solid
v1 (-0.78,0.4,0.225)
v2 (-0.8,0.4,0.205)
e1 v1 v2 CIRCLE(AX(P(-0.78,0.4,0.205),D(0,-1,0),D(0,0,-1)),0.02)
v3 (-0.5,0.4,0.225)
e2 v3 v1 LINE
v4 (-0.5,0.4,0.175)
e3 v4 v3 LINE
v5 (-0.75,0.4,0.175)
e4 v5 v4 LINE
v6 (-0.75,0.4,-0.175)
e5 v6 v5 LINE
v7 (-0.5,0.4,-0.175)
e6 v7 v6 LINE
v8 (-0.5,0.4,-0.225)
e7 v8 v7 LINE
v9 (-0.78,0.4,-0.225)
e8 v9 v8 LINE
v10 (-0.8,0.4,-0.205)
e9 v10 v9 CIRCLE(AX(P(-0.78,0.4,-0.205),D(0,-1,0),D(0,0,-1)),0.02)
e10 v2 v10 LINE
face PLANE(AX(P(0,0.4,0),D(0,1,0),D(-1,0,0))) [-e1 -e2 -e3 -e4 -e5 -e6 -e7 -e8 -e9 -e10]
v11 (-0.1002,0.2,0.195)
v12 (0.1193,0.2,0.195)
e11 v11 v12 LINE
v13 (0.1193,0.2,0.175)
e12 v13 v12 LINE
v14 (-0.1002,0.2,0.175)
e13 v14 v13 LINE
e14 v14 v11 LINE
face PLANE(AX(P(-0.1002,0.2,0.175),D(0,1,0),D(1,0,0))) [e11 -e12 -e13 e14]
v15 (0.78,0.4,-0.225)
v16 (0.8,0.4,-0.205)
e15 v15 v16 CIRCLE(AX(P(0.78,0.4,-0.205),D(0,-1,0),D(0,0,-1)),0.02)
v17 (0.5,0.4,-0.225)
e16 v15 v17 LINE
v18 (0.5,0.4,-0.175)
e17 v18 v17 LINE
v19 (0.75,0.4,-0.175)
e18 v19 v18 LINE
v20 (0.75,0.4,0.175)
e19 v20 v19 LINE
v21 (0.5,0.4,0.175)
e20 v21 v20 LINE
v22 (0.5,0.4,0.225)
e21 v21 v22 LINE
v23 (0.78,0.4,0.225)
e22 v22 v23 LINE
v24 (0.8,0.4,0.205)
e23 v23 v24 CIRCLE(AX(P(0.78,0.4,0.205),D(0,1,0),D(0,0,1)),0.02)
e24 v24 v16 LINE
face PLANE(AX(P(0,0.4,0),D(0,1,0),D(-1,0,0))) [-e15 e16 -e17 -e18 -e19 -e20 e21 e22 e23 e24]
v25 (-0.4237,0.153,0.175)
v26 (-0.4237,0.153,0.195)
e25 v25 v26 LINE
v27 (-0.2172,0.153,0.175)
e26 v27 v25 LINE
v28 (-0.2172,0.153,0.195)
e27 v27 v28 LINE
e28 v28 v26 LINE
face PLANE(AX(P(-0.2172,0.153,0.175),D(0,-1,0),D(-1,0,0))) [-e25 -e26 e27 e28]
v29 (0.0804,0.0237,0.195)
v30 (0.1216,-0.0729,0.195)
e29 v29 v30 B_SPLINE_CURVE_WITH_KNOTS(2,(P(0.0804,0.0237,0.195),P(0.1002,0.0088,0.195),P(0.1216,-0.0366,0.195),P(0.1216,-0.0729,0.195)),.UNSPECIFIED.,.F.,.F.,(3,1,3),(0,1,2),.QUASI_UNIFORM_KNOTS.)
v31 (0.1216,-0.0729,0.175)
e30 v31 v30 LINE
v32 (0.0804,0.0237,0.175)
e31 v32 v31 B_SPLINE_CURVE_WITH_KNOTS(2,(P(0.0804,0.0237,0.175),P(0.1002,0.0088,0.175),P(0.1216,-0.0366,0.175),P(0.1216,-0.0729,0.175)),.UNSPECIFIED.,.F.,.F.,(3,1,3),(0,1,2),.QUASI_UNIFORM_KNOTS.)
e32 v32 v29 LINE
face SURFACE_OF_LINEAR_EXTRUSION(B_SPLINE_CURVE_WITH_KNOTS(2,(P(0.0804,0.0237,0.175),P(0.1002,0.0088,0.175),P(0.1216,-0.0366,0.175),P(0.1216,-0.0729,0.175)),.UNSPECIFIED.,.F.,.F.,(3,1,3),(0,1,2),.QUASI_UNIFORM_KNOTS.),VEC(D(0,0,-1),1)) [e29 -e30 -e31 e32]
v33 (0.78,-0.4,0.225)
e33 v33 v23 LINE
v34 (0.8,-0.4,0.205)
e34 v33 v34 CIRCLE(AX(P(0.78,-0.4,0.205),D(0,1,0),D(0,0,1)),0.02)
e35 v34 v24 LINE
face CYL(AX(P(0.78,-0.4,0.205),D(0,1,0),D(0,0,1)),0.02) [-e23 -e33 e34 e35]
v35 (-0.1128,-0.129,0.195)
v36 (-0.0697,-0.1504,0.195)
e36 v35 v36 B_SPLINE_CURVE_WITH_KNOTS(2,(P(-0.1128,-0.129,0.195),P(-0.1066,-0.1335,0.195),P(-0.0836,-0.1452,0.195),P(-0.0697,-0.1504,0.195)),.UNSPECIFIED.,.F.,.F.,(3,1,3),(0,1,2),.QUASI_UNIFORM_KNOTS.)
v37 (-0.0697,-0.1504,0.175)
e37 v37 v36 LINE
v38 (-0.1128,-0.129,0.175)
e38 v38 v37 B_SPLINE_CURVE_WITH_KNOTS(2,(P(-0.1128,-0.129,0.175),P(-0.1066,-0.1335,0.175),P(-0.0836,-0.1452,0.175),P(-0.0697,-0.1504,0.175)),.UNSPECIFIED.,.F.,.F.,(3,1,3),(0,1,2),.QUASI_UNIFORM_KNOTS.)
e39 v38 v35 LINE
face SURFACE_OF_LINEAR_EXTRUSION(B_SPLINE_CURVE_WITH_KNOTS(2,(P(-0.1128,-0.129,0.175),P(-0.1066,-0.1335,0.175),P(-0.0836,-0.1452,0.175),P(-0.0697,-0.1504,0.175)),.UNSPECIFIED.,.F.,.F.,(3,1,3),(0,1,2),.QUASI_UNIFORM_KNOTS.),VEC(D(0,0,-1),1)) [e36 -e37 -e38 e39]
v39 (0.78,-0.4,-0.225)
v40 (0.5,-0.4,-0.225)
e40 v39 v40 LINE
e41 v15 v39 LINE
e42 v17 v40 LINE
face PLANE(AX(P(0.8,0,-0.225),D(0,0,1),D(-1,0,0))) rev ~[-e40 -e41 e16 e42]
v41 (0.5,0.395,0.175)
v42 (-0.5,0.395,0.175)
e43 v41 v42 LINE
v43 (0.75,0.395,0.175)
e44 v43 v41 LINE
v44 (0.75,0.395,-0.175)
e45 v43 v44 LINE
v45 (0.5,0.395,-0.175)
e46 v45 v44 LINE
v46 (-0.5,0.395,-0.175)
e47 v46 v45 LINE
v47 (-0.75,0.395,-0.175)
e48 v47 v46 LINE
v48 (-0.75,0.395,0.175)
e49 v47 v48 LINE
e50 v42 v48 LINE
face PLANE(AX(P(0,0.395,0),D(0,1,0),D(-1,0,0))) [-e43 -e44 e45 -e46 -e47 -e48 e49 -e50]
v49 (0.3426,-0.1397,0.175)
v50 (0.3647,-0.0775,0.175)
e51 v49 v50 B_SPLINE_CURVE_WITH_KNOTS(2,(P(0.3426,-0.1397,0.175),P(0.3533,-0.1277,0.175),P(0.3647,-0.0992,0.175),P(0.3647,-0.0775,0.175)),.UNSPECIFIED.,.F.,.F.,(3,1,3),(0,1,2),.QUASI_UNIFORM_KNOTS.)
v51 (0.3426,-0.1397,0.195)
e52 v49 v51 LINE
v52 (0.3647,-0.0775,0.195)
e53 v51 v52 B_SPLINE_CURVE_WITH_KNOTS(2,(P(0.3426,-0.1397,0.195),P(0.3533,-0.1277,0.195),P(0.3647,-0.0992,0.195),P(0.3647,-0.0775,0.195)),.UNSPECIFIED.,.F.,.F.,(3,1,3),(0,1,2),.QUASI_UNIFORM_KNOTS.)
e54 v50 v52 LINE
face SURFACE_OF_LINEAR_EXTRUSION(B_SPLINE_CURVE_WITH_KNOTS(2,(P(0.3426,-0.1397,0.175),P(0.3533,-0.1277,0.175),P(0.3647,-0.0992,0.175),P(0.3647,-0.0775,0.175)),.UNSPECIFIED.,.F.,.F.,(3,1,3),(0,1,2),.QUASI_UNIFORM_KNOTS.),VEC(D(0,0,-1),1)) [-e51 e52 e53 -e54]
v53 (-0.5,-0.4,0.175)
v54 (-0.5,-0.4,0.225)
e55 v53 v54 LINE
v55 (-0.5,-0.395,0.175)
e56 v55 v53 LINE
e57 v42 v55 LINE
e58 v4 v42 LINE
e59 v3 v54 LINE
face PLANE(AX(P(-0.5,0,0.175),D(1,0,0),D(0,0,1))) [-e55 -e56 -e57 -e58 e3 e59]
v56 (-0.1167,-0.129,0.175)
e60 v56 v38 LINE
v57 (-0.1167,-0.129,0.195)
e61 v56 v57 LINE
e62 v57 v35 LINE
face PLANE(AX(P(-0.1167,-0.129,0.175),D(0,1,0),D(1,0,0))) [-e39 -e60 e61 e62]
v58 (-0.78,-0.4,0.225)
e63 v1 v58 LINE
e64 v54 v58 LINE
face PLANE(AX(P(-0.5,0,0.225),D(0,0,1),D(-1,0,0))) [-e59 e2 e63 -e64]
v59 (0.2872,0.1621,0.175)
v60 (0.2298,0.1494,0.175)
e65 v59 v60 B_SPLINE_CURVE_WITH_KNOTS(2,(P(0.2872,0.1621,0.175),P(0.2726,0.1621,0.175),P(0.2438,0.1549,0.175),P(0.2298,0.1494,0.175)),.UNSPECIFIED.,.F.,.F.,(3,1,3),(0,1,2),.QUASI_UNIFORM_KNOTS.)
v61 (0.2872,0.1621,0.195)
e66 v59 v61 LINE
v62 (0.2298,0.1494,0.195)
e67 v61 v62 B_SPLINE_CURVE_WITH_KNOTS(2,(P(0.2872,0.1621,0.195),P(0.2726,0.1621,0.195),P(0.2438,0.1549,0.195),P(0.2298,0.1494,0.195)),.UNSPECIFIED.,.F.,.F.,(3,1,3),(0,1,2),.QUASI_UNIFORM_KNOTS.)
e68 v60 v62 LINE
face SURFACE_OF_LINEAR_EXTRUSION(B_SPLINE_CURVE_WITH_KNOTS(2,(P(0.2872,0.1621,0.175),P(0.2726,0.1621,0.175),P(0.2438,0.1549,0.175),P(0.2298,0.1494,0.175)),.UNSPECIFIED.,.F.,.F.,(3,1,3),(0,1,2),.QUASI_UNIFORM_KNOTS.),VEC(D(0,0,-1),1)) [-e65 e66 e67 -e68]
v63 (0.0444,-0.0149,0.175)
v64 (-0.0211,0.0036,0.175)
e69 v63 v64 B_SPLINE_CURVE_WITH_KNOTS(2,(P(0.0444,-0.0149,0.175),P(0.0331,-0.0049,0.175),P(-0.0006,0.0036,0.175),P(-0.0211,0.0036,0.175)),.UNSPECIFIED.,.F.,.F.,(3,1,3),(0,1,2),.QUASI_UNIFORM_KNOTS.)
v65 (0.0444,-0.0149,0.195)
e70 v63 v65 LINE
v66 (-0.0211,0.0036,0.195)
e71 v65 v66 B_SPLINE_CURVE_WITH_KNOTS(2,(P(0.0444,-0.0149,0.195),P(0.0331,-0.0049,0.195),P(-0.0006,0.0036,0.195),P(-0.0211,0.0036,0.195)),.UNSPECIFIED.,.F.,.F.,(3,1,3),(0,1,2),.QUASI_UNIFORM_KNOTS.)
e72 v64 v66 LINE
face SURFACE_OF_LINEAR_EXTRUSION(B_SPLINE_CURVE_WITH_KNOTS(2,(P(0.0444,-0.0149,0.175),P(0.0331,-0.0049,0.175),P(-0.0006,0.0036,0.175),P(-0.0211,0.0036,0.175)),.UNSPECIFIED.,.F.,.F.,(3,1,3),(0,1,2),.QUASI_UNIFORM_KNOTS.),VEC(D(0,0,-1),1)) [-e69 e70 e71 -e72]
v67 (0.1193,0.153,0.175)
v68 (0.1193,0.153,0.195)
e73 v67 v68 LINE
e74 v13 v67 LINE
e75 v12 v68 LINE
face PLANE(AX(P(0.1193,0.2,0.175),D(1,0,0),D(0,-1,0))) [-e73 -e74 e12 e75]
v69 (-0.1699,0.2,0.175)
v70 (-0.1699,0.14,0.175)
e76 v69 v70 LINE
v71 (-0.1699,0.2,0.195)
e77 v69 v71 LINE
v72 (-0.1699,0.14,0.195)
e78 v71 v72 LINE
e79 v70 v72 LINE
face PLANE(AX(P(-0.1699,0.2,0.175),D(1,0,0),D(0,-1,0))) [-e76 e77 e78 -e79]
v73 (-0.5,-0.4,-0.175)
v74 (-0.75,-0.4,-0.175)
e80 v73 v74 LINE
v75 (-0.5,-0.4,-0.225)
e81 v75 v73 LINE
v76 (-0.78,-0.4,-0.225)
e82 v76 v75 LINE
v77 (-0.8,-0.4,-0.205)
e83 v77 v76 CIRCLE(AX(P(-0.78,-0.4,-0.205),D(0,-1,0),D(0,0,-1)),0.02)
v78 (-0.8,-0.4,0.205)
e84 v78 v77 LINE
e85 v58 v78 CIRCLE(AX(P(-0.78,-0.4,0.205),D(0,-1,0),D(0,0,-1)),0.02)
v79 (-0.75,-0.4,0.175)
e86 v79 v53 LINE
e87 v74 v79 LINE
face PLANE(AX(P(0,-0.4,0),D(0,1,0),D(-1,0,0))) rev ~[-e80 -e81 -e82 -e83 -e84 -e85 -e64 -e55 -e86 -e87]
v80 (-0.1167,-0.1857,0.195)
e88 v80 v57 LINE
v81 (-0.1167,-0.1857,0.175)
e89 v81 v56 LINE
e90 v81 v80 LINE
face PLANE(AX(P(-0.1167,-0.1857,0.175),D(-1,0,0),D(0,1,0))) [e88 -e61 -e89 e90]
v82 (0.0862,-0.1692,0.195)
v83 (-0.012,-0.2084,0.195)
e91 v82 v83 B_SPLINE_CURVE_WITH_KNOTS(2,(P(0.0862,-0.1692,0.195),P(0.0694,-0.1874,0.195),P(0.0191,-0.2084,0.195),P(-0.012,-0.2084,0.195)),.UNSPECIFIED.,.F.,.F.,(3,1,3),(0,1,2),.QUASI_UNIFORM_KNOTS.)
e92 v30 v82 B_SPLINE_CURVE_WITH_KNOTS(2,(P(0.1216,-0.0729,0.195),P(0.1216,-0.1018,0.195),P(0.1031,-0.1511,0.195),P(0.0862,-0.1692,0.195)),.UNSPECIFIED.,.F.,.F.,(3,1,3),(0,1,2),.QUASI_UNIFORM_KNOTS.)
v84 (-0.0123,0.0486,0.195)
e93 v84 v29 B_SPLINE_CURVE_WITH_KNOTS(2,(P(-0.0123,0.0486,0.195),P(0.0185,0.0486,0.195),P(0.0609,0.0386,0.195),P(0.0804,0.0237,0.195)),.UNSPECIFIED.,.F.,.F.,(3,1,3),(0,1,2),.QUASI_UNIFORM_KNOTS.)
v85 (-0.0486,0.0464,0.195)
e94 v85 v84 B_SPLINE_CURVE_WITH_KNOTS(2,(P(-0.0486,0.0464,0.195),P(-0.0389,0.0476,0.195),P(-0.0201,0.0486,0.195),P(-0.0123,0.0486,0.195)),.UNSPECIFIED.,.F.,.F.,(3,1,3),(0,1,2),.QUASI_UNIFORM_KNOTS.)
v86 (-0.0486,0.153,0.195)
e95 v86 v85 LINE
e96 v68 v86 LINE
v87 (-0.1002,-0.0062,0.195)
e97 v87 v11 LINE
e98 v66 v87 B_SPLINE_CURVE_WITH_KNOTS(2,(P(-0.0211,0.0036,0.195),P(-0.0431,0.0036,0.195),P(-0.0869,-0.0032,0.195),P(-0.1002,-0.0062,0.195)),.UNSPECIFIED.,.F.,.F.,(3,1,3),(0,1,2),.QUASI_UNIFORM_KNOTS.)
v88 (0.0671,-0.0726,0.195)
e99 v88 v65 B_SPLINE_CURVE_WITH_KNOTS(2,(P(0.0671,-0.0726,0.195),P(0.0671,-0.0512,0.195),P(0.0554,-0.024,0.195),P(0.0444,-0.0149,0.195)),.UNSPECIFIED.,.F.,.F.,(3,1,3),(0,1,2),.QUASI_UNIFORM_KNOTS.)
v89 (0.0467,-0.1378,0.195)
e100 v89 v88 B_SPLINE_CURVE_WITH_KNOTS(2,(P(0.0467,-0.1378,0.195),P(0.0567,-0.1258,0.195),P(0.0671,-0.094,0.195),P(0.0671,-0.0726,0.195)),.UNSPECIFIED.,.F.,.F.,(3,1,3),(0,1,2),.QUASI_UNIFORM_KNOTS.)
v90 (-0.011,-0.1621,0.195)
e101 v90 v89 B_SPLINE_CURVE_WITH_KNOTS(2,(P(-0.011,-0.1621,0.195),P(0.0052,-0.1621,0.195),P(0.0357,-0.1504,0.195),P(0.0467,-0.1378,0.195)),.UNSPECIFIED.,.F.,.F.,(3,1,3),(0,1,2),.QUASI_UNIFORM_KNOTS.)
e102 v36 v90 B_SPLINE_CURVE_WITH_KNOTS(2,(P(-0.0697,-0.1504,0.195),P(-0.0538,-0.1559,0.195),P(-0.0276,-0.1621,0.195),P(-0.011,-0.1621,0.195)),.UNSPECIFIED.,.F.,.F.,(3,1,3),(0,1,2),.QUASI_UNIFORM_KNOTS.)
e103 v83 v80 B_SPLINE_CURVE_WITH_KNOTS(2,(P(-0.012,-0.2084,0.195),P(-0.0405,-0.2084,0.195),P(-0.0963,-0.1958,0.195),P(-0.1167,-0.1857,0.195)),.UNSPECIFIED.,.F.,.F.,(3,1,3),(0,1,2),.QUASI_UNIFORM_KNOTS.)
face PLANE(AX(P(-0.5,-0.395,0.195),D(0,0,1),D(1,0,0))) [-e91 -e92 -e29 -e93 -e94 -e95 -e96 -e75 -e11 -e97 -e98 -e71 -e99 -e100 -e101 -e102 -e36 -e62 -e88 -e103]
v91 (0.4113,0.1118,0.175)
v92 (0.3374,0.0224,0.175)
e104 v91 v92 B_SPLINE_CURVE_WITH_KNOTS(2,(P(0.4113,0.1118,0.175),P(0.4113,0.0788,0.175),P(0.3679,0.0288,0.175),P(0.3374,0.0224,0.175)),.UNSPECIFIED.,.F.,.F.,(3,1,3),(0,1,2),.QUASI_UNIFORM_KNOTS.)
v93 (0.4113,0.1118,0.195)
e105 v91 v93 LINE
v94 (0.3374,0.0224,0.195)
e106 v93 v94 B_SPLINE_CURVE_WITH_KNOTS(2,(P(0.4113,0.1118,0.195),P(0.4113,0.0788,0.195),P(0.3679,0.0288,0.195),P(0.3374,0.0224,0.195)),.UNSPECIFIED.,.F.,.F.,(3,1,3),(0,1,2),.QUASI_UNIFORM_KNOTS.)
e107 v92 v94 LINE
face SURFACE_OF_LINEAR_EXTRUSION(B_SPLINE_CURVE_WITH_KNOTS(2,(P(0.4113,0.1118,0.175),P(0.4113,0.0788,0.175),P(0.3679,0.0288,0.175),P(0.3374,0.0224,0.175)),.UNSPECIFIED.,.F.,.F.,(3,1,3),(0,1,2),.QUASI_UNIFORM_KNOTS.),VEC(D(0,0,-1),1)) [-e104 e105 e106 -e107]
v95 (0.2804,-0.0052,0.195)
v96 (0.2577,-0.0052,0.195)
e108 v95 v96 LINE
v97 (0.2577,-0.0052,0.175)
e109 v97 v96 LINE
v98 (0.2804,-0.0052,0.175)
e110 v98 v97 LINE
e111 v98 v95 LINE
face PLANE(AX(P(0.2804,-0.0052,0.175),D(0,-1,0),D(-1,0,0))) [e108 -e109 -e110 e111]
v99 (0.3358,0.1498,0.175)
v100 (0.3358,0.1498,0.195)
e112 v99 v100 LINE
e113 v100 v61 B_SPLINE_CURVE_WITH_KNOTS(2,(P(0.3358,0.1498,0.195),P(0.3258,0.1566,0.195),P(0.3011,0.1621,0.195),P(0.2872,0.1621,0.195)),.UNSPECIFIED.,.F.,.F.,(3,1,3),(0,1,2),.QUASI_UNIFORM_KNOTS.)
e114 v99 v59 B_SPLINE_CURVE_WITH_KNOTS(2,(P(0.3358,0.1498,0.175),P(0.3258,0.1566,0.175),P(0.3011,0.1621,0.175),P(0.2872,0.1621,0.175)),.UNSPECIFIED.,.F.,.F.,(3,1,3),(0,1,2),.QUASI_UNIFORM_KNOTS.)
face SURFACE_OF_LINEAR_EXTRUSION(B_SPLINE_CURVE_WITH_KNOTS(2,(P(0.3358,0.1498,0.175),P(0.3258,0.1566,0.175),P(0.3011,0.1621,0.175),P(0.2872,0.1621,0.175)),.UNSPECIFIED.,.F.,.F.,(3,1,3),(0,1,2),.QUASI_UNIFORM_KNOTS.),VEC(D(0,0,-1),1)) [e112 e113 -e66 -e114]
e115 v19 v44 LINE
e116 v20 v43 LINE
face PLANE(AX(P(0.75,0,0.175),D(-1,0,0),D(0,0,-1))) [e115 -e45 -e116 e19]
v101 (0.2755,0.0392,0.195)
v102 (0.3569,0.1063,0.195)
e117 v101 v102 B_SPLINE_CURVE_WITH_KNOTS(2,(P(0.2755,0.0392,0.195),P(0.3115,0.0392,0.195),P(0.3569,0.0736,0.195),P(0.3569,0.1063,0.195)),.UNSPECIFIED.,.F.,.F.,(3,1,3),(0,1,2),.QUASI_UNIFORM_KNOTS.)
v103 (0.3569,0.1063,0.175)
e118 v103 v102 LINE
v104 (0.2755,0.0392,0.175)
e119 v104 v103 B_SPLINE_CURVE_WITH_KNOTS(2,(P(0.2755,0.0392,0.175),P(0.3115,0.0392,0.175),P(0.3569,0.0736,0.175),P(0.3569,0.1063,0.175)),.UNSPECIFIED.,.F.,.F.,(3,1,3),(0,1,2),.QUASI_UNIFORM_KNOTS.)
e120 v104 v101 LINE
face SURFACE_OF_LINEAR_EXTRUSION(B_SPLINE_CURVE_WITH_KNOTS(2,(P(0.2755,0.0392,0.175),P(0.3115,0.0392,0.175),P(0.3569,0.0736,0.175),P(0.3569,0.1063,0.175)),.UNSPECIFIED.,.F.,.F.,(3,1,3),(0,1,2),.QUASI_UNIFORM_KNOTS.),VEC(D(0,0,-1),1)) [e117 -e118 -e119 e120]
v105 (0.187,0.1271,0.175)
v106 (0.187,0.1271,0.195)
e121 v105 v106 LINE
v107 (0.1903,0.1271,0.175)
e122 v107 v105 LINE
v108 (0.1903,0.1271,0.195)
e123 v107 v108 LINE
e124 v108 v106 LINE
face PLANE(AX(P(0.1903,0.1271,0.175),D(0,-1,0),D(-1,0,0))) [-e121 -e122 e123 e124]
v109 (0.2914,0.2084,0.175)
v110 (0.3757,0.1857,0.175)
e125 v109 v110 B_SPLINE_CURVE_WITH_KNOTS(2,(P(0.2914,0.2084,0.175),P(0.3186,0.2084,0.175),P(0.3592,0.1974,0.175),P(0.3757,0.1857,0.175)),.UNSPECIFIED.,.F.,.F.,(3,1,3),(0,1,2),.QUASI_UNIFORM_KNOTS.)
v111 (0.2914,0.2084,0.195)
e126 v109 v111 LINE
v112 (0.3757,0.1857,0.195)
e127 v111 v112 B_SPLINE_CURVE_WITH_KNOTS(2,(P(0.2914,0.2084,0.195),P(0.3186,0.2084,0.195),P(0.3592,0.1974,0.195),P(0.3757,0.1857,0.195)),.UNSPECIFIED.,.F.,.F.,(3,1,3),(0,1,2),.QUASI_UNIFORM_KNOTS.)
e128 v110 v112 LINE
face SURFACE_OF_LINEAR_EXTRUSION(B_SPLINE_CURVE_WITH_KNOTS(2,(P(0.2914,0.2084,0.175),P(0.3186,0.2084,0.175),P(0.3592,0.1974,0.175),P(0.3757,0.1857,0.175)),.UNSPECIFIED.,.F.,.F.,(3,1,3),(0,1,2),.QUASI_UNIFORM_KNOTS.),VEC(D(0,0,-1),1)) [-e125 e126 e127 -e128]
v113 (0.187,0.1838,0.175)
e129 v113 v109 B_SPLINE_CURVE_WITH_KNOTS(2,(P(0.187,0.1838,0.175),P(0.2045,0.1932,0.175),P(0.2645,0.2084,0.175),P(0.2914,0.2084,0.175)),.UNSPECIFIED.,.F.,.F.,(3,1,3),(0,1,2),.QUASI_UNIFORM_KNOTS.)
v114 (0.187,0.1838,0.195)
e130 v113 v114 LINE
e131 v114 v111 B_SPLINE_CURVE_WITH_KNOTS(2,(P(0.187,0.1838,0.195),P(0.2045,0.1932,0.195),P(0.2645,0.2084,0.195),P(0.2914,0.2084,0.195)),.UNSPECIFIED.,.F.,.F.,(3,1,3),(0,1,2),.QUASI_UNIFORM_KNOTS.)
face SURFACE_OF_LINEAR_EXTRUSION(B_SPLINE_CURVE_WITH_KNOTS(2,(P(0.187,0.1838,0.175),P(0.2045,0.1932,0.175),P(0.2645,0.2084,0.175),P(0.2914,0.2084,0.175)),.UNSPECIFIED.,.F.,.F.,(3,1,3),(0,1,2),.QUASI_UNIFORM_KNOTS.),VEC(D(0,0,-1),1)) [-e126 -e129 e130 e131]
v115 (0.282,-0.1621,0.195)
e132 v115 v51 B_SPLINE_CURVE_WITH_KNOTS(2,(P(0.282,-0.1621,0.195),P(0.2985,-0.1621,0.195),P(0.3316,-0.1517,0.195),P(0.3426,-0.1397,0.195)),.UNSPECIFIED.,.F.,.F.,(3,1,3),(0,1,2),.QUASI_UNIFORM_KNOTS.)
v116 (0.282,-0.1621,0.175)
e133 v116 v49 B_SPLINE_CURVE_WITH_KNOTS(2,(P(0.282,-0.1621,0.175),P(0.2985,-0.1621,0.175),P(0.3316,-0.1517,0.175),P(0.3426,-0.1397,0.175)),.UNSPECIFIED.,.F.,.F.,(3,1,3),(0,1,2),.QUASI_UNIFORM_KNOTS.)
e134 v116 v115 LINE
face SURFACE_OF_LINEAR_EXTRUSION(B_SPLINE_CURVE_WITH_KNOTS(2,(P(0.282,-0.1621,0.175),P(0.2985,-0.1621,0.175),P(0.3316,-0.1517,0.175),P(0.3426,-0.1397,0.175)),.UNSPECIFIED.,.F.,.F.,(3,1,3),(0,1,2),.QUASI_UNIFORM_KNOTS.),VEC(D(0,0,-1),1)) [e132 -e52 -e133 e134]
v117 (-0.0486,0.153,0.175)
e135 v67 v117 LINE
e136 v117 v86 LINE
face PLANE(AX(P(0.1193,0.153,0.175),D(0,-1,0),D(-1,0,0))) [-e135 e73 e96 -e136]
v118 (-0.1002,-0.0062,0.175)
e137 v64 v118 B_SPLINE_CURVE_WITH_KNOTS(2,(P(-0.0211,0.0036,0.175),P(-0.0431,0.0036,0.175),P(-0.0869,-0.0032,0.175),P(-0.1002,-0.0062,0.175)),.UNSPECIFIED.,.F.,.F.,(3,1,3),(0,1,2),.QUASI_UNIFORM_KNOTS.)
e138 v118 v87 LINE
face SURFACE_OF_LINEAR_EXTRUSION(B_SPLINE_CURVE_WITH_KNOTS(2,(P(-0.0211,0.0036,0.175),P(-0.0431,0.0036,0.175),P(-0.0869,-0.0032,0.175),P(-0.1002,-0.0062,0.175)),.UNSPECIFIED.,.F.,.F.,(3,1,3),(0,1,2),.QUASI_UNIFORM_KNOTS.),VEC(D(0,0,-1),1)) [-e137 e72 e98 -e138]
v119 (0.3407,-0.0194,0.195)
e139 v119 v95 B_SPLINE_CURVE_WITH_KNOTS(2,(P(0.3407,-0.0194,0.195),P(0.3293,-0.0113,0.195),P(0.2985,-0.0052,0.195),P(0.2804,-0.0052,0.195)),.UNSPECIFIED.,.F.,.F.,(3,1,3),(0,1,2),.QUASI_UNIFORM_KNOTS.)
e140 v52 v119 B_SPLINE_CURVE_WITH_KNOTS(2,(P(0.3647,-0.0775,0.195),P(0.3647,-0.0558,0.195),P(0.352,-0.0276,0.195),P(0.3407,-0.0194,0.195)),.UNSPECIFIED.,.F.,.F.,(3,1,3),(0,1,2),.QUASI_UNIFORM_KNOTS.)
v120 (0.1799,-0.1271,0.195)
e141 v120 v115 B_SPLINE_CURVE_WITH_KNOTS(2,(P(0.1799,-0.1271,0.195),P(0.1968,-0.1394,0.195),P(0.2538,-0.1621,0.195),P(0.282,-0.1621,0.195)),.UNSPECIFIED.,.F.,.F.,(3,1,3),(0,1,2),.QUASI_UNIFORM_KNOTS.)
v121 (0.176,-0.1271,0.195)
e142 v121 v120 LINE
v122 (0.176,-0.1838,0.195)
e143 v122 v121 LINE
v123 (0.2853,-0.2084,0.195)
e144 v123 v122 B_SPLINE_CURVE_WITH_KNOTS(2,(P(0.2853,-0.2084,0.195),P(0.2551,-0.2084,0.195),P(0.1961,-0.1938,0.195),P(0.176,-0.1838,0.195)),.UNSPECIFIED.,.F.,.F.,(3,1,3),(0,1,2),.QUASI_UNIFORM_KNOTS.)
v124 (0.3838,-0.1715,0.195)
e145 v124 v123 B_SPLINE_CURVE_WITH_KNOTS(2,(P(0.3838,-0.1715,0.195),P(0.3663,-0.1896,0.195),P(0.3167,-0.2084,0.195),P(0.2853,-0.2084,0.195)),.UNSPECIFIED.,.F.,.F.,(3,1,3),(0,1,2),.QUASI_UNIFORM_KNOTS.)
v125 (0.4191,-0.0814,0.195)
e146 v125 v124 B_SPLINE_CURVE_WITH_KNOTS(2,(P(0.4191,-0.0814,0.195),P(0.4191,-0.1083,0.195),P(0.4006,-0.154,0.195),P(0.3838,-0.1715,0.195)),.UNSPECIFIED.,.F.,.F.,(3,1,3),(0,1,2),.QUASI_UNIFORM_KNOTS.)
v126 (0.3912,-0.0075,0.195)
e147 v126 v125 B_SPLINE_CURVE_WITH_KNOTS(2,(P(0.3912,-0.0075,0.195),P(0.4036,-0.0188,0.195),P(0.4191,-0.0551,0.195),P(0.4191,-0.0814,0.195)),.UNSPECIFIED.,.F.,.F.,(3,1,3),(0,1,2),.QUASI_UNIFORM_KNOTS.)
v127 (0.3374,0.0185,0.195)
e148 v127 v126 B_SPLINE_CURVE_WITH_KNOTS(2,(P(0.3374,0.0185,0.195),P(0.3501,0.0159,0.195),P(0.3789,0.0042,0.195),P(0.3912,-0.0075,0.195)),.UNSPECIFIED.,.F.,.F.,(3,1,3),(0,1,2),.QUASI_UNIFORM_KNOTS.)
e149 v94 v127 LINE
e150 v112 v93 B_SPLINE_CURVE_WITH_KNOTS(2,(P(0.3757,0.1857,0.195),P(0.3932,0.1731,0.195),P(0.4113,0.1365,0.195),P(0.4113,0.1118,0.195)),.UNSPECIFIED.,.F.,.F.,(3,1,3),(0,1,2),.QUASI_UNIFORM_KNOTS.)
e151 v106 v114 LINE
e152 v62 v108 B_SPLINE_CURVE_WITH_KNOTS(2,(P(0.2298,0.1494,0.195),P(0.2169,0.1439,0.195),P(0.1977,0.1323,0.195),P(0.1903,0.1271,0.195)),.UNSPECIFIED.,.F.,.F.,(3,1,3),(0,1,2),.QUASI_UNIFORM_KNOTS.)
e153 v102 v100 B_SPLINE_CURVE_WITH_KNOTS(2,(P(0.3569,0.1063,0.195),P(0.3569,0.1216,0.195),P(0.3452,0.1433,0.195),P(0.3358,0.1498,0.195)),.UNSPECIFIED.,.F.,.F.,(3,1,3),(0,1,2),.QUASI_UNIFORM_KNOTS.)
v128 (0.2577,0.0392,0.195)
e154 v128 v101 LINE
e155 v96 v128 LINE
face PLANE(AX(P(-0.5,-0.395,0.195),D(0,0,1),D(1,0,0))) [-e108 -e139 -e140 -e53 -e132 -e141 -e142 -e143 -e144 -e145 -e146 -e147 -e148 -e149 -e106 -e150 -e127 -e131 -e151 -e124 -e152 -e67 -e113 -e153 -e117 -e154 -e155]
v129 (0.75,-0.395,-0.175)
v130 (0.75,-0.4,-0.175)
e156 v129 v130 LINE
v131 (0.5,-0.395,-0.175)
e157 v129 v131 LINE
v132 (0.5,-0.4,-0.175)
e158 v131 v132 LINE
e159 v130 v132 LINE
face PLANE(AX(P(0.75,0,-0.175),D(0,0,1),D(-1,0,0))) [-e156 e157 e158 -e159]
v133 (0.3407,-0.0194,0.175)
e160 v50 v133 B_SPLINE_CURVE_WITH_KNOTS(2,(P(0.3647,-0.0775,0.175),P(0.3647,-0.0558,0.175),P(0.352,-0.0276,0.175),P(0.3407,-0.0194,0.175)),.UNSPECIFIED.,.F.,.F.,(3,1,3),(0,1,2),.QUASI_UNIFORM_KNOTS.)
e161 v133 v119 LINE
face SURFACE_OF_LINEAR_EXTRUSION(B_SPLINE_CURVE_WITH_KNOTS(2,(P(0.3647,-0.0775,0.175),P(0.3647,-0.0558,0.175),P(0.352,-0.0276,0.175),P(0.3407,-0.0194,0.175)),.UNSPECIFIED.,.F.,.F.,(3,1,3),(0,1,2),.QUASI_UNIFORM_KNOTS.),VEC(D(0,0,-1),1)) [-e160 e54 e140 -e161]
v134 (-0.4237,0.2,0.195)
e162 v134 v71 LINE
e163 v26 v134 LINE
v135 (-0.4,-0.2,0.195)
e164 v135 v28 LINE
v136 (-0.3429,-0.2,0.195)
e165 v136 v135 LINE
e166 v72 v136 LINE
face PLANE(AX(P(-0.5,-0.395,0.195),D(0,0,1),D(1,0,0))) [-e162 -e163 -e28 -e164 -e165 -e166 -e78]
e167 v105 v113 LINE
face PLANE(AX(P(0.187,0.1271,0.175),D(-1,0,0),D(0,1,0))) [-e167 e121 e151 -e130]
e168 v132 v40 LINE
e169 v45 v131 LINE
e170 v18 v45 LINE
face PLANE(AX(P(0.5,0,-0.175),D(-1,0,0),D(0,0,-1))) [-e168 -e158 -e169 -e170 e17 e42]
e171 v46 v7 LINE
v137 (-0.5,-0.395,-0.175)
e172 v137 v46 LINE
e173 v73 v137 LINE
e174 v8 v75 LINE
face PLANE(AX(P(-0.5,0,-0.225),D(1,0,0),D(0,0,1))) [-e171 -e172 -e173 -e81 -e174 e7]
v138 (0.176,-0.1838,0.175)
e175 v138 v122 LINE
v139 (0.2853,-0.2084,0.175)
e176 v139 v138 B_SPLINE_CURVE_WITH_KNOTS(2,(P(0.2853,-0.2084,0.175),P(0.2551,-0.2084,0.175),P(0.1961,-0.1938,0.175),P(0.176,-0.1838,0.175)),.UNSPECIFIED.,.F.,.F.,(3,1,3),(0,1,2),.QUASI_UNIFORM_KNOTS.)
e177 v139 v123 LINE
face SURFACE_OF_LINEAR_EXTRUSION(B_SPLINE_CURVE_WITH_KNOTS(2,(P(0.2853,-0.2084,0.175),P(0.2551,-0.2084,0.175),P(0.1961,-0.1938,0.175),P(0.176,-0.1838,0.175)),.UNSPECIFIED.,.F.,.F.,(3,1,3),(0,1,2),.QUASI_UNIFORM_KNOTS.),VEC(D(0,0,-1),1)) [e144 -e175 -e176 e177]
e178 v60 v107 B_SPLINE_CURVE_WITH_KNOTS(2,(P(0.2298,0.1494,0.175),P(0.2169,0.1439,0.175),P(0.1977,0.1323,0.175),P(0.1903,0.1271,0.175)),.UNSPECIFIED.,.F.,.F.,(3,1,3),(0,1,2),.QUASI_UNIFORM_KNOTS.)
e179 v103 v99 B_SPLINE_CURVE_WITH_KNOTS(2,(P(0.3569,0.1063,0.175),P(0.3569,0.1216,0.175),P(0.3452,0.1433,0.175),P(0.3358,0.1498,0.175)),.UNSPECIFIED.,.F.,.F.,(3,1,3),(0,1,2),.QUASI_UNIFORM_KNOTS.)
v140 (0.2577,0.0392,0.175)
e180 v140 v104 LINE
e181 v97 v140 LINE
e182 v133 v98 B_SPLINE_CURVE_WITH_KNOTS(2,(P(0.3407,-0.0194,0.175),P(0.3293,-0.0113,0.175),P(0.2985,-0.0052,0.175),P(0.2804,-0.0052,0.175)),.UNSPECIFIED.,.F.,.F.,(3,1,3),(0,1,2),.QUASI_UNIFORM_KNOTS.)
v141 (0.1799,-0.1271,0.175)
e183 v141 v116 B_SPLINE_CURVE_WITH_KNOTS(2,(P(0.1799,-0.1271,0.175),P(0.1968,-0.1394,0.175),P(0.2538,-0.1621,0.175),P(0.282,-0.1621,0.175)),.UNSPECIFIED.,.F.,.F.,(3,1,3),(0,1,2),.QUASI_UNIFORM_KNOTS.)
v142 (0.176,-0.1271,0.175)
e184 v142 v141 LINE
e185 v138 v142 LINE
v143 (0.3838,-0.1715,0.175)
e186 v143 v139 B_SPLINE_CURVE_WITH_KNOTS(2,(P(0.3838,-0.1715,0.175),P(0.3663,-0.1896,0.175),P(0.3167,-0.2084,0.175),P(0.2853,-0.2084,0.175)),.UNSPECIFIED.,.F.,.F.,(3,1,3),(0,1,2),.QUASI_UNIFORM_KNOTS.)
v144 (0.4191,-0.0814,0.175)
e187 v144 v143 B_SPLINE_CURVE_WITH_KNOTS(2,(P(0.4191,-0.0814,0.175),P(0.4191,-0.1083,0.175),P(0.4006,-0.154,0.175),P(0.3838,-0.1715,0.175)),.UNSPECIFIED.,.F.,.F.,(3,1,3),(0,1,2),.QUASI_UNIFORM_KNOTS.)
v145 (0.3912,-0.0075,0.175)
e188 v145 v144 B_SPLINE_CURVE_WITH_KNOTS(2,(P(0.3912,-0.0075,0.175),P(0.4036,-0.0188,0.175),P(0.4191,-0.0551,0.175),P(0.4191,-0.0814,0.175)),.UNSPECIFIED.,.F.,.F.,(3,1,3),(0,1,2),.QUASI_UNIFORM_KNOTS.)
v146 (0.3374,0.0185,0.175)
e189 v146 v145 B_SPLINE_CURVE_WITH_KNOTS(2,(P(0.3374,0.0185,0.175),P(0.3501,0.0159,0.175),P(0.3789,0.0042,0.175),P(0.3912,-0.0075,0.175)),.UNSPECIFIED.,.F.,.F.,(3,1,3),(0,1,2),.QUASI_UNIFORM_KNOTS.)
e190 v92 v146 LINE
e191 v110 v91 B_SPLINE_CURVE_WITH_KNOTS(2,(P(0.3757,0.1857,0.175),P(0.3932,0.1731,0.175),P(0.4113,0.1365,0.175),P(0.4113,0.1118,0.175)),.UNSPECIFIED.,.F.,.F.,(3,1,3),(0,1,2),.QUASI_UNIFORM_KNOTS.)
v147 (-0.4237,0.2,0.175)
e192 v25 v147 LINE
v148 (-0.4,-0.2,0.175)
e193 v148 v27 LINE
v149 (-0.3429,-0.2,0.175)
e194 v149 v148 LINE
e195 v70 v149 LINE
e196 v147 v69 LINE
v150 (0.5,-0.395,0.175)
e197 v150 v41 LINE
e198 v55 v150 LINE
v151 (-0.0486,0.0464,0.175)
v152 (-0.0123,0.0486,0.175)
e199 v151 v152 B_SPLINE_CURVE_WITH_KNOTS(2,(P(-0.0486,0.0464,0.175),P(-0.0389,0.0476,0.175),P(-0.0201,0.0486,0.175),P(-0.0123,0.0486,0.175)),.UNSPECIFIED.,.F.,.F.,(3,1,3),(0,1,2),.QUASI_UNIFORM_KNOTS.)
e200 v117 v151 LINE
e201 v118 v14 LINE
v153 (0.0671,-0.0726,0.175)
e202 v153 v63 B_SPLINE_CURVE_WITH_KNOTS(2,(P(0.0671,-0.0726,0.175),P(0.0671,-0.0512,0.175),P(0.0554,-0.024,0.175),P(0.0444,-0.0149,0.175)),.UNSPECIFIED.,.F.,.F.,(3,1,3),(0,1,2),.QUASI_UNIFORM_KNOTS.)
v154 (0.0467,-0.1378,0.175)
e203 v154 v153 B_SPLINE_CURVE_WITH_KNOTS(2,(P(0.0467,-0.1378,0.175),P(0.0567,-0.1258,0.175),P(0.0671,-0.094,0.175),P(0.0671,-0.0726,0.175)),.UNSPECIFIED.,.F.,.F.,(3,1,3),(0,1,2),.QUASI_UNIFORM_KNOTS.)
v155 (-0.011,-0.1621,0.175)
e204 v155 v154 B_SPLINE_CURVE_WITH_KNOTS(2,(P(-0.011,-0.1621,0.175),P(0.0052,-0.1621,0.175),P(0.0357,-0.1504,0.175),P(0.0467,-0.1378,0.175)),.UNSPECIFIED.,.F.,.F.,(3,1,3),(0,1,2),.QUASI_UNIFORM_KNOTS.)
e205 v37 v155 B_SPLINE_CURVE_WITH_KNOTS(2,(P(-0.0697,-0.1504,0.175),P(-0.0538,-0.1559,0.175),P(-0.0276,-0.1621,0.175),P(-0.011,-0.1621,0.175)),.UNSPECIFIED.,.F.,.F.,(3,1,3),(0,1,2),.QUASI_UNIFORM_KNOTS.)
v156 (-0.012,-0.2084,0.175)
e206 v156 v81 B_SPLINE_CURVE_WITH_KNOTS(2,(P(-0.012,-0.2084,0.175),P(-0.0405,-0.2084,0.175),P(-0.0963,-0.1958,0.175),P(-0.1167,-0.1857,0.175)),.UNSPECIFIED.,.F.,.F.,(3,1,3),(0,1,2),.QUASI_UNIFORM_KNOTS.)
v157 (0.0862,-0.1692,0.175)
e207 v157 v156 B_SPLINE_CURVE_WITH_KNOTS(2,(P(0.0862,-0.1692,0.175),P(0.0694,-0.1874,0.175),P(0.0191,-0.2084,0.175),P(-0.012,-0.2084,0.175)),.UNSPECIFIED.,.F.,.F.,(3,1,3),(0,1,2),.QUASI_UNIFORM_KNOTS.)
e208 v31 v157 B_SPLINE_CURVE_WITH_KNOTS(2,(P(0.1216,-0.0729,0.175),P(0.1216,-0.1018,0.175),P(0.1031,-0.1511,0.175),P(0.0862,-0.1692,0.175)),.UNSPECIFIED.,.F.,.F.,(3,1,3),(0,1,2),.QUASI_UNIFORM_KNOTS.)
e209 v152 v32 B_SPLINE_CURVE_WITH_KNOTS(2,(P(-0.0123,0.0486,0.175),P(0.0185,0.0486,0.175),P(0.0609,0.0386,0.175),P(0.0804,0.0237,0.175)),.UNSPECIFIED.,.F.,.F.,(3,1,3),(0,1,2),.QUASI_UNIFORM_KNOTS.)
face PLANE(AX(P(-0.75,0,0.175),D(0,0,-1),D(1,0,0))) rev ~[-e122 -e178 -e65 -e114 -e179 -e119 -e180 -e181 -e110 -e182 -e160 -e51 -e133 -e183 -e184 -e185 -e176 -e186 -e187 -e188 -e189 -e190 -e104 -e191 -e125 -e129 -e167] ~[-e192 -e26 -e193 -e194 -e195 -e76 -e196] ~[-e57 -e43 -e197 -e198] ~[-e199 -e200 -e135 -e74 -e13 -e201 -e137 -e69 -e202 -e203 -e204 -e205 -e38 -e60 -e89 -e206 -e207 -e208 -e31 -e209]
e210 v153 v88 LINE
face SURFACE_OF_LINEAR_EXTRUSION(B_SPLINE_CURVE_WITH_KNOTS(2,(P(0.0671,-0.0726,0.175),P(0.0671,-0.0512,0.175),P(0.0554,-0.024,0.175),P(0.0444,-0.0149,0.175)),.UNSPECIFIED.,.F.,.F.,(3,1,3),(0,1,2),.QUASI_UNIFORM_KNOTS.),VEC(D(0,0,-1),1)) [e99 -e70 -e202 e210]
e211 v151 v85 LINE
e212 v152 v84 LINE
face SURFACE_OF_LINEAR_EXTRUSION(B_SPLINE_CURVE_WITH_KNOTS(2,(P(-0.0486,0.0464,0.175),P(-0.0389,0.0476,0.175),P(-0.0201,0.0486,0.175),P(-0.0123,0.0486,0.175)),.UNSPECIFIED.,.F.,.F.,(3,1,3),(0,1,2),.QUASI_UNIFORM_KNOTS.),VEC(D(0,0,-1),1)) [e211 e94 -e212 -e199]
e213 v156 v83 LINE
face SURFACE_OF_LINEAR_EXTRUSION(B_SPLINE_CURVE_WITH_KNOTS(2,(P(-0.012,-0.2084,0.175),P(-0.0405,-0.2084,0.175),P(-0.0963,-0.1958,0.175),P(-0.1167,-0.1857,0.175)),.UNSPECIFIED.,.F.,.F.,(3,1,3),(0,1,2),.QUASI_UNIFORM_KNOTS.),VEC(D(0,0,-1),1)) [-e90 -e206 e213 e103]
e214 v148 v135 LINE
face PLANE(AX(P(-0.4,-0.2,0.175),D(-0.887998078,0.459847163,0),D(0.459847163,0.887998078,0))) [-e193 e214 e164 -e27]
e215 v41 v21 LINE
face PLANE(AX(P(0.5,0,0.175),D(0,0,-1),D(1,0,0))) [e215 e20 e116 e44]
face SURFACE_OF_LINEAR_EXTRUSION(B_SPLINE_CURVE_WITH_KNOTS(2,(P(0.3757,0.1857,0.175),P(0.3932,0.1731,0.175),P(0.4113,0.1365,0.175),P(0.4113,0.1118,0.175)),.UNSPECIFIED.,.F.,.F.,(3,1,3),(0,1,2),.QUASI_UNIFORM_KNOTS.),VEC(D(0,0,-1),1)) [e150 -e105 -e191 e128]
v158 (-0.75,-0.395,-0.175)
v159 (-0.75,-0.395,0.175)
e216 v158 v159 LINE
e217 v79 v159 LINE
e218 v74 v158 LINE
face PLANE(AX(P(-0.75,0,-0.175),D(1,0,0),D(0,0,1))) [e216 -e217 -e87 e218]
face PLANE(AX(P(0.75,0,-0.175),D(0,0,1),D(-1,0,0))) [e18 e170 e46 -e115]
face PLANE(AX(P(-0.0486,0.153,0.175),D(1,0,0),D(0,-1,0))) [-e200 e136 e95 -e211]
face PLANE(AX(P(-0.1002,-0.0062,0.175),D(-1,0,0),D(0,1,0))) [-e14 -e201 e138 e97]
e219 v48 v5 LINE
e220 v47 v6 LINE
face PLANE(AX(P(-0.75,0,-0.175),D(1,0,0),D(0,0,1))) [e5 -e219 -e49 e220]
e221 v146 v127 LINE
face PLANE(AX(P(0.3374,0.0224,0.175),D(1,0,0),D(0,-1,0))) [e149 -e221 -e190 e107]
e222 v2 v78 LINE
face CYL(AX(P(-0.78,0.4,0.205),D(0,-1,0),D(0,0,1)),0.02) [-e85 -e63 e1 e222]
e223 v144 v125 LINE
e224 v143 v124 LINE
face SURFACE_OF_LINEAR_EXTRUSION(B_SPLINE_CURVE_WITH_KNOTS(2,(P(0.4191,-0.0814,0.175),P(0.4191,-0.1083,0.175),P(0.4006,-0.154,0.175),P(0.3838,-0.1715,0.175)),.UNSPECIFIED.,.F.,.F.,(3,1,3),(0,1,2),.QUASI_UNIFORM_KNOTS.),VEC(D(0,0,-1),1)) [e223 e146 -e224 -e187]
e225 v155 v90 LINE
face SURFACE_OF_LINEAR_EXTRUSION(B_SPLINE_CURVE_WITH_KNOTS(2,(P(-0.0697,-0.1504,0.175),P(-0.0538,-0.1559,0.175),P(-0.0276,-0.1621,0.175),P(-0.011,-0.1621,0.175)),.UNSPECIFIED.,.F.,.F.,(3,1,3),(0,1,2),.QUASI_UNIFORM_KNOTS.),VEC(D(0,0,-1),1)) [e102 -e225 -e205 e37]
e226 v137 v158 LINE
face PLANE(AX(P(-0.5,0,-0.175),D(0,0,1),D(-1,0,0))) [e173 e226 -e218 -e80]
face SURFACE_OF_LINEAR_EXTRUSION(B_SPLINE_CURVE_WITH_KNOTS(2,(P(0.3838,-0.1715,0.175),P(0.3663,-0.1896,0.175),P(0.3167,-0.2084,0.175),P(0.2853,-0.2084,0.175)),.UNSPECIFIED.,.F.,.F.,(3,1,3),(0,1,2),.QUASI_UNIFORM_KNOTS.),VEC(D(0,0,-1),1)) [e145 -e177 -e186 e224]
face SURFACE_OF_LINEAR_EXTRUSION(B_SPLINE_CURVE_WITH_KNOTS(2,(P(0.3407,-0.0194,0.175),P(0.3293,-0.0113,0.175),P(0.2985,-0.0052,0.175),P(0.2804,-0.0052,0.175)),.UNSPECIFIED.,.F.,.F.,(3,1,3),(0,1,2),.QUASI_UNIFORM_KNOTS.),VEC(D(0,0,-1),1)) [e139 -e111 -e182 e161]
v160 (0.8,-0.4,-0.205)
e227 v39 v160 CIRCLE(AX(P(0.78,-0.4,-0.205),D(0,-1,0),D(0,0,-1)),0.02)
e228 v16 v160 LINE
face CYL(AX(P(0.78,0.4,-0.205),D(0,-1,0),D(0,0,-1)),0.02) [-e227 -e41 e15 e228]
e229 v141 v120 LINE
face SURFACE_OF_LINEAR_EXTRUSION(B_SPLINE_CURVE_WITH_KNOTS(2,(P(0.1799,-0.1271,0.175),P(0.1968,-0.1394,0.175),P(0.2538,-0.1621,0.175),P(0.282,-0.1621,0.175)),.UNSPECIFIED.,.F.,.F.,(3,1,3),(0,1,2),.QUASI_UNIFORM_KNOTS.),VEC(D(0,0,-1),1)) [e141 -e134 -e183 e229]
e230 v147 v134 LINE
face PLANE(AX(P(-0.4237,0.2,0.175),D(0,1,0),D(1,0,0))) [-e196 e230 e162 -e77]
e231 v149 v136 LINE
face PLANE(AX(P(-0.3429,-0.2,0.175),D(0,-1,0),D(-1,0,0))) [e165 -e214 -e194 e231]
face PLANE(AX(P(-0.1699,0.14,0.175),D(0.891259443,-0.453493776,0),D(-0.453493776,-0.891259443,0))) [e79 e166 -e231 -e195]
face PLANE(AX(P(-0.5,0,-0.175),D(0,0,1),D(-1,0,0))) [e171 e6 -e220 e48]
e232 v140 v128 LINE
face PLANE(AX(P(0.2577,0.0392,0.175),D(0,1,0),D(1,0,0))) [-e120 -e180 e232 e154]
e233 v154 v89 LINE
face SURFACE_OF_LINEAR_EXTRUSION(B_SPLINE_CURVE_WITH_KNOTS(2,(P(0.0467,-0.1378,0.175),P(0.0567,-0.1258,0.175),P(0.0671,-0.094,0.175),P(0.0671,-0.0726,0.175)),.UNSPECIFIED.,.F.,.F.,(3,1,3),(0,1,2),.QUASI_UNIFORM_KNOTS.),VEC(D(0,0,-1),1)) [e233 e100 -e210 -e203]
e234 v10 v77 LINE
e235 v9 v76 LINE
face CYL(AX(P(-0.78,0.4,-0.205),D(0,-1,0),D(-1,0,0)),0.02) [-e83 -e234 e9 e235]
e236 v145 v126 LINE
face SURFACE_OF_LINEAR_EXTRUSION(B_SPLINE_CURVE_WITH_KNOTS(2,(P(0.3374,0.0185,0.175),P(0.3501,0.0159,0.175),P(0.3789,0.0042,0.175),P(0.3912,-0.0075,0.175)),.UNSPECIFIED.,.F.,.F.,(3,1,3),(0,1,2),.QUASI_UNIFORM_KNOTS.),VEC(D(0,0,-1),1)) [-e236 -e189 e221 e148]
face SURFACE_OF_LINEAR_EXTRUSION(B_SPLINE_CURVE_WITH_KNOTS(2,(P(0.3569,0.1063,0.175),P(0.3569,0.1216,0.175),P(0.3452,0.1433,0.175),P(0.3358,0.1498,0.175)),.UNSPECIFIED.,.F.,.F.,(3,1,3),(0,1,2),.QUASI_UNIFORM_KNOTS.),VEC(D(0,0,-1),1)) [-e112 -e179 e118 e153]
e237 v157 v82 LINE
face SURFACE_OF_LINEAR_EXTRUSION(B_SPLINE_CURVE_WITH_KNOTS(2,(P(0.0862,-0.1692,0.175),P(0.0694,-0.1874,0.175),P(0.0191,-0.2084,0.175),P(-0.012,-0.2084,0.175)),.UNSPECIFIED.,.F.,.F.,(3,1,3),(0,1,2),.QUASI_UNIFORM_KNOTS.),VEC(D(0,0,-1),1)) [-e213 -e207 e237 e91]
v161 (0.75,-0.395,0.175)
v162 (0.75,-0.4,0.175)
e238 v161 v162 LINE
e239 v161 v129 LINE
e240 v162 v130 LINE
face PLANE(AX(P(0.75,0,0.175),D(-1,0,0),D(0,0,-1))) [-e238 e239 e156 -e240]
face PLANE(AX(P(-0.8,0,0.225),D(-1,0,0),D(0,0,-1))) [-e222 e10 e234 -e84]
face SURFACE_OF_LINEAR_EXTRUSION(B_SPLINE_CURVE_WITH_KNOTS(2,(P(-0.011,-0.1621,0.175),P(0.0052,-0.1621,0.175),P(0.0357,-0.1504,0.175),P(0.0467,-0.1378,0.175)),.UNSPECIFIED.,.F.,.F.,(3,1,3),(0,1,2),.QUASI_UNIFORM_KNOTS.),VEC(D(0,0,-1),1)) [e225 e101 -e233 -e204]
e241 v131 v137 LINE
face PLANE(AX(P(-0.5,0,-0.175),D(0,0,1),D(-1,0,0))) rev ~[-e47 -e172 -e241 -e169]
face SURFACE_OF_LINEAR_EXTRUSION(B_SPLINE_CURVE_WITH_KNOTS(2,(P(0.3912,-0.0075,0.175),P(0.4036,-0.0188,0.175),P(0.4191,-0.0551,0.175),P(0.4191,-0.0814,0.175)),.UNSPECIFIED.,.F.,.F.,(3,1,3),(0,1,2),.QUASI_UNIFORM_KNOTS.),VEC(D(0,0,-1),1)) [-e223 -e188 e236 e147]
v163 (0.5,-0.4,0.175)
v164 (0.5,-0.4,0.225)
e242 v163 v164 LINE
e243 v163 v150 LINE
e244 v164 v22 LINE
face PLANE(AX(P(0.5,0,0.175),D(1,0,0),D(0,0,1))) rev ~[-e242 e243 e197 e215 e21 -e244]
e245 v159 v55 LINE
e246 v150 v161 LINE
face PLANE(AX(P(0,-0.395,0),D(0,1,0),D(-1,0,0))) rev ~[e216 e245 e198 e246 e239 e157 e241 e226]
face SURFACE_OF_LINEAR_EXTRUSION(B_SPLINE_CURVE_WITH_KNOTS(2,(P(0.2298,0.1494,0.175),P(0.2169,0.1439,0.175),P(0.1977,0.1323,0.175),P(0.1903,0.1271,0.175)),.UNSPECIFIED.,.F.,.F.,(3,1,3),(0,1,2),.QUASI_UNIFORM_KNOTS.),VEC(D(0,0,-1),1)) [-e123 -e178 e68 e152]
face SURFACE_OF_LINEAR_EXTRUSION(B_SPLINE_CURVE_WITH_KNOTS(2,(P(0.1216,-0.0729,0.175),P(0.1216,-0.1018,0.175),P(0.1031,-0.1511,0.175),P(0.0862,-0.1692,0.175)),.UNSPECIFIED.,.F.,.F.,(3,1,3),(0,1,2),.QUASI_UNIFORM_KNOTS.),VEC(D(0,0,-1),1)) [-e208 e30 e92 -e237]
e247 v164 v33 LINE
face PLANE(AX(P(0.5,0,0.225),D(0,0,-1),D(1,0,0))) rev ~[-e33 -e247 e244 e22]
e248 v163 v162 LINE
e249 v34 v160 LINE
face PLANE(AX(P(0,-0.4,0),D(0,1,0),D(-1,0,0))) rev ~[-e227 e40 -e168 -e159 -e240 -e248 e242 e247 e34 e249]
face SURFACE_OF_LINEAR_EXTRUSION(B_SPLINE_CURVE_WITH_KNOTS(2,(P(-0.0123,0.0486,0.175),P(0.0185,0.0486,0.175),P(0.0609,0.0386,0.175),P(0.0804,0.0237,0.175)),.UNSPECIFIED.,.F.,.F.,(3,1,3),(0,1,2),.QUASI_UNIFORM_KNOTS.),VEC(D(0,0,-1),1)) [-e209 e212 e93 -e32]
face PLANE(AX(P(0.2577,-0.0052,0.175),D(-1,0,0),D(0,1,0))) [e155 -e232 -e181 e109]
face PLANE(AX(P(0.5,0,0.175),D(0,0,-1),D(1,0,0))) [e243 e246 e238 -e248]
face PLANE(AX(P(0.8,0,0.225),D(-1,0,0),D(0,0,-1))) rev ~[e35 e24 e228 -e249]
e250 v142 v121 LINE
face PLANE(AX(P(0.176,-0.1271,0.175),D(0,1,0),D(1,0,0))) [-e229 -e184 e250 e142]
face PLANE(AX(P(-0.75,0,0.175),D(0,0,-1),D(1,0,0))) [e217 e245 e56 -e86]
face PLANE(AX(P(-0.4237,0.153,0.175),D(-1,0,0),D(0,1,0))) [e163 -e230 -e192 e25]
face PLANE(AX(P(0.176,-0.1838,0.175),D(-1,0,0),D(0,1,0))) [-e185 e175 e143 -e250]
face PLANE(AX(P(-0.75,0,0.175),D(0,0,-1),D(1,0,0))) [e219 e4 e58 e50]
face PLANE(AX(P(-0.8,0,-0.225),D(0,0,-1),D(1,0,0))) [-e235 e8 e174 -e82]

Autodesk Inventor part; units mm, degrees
ref_plane "YZ Plane" through (0, 0, 0) normal (1, 0, 0) x (0, 1, 0)
ref_plane "XZ Plane" through (0, 0, 0) normal (0, 1, 0) x (-1, 0, 0)
ref_plane "XY Plane" through (0, 0, 0) normal (0, 0, 1) x (1, 0, 0)
sketch "Sketch1" plane through (0, 0, 0) normal (0, 1, 0) x (-1, 0, 0)
  line L0 (0.75, 0.175) -> (-0.75, 0.175)
  line L1 (-0.75, 0.175) -> (-0.75, -0.175)
  line L2 (-0.75, -0.175) -> (0.75, -0.175)
  line L3 (0.75, -0.175) -> (0.75, 0.175)
  line L4 (0.5, 0.175) -> (0.5, 0.225)
  line L5 (0.5, 0.225) -> (0.8, 0.225)
  line L6 (0.8, 0.225) -> (0.8, -0.225)
  line L7 (0.8, -0.225) -> (0.5, -0.225)
  line L8 (0.5, -0.225) -> (0.5, -0.175)
  line L9 (-0.5, 0.175) -> (-0.5, 0.225)
  line L10 (-0.5, 0.225) -> (-0.8, 0.225)
  line L11 (-0.8, 0.225) -> (-0.8, -0.225)
  line L12 (-0.8, -0.225) -> (-0.5, -0.225)
  line L13 (-0.5, -0.175) -> (-0.5, -0.225)
  line L14 (0.5, 0.175) -> (-0.5, 0.175)
  point P0 (0, 0)
  point P1 (0, 0.175)
  point P2 (0.75, 0)
  dimension "d0" = 1.6
  dimension "d1" = 0.05
  dimension "d2" = 0.05
  dimension "d3" = 0.45
  dimension "d4" = 0.3
extrude "Extrusion1" add sketch "Sketch1" along normal mid plane 0.8 contours L0 L4 L5 L6 L7 L8 L2 L3 | L0 L1 L2 L13 L12 L11 L10 L9
extrude "Extrusion2" add sketch "Sketch1" along normal mid plane 0.79 contours L3 L2 L1 L0
sketch "Sketch2" plane through (-0.5, -0.395, 0.175) normal (0, 0, 1) x (1, 0, 0)
  line L0 (0, 0) -> (0, 0.79) projected
  line L1 (1, 0) -> (0, 0) projected
  line L2 (1, 0) -> (1, 0.79) projected
  line L3 (0, 0.79) -> (1, 0.79) projected
  line L4 (0, 0.395) -> (1, 0.395) construction
  line L5 (0.3301, 0.535) -> (0.1571, 0.195)
  line L6 (0.1571, 0.195) -> (0.1, 0.195)
  line L7 (0.1, 0.195) -> (0.2828, 0.548)
  line L8 (0.2828, 0.548) -> (0.0763, 0.548)
  line L9 (0.0763, 0.548) -> (0.0763, 0.595)
  line L10 (0.0763, 0.595) -> (0.3301, 0.595)
  line L11 (0.3301, 0.595) -> (0.3301, 0.535)
  spline S0 degree 2 poles (0.6216, 0.3221) (0.6216, 0.2932) (0.6031, 0.2439) (0.5862, 0.2258) knots 0 0 0 1 2 2 2
  spline S1 degree 2 poles (0.5862, 0.2258) (0.5694, 0.2076) (0.5191, 0.1866) (0.488, 0.1866) knots 0 0 0 1 2 2 2
  spline S2 degree 2 poles (0.488, 0.1866) (0.4595, 0.1866) (0.4037, 0.1992) (0.3833, 0.2093) knots 0 0 0 1 2 2 2
  line L12 (0.3833, 0.2093) -> (0.3833, 0.266)
  line L13 (0.3833, 0.266) -> (0.3872, 0.266)
  spline S3 degree 2 poles (0.3872, 0.266) (0.3934, 0.2615) (0.4164, 0.2498) (0.4303, 0.2446) knots 0 0 0 1 2 2 2
  spline S4 degree 2 poles (0.4303, 0.2446) (0.4462, 0.2391) (0.4724, 0.2329) (0.489, 0.2329) knots 0 0 0 1 2 2 2
  spline S5 degree 2 poles (0.489, 0.2329) (0.5052, 0.2329) (0.5357, 0.2446) (0.5467, 0.2572) knots 0 0 0 1 2 2 2
  spline S6 degree 2 poles (0.5467, 0.2572) (0.5567, 0.2692) (0.5671, 0.301) (0.5671, 0.3224) knots 0 0 0 1 2 2 2
  spline S7 degree 2 poles (0.5671, 0.3224) (0.5671, 0.3438) (0.5554, 0.371) (0.5444, 0.3801) knots 0 0 0 1 2 2 2
  spline S8 degree 2 poles (0.5444, 0.3801) (0.5331, 0.3901) (0.4994, 0.3986) (0.4789, 0.3986) knots 0 0 0 1 2 2 2
  spline S9 degree 2 poles (0.4789, 0.3986) (0.4569, 0.3986) (0.4131, 0.3918) (0.3998, 0.3888) knots 0 0 0 1 2 2 2
  line L14 (0.3998, 0.3888) -> (0.3998, 0.595)
  line L15 (0.3998, 0.595) -> (0.6193, 0.595)
  line L16 (0.6193, 0.595) -> (0.6193, 0.548)
  line L17 (0.6193, 0.548) -> (0.4514, 0.548)
  line L18 (0.4514, 0.548) -> (0.4514, 0.4414)
  spline S10 degree 2 poles (0.4514, 0.4414) (0.4611, 0.4426) (0.4799, 0.4436) (0.4877, 0.4436) knots 0 0 0 1 2 2 2
  spline S11 degree 2 poles (0.4877, 0.4436) (0.5185, 0.4436) (0.5609, 0.4336) (0.5804, 0.4187) knots 0 0 0 1 2 2 2
  spline S12 degree 2 poles (0.5804, 0.4187) (0.6002, 0.4038) (0.6216, 0.3584) (0.6216, 0.3221) knots 0 0 0 1 2 2 2
  spline S13 degree 2 poles (0.7872, 0.5571) (0.7726, 0.5571) (0.7438, 0.5499) (0.7298, 0.5444) knots 0 0 0 1 2 2 2
  spline S14 degree 2 poles (0.7298, 0.5444) (0.7169, 0.5389) (0.6977, 0.5273) (0.6903, 0.5221) knots 0 0 0 1 2 2 2
  line L19 (0.6903, 0.5221) -> (0.687, 0.5221)
  line L20 (0.687, 0.5221) -> (0.687, 0.5788)
  spline S15 degree 2 poles (0.687, 0.5788) (0.7045, 0.5882) (0.7645, 0.6034) (0.7914, 0.6034) knots 0 0 0 1 2 2 2
  spline S16 degree 2 poles (0.7914, 0.6034) (0.8186, 0.6034) (0.8592, 0.5924) (0.8757, 0.5807) knots 0 0 0 1 2 2 2
  spline S17 degree 2 poles (0.8757, 0.5807) (0.8932, 0.5681) (0.9113, 0.5315) (0.9113, 0.5068) knots 0 0 0 1 2 2 2
  spline S18 degree 2 poles (0.9113, 0.5068) (0.9113, 0.4738) (0.8679, 0.4238) (0.8374, 0.4174) knots 0 0 0 1 2 2 2
  line L21 (0.8374, 0.4174) -> (0.8374, 0.4135)
  spline S19 degree 2 poles (0.8374, 0.4135) (0.8501, 0.4109) (0.8789, 0.3992) (0.8912, 0.3875) knots 0 0 0 1 2 2 2
  spline S20 degree 2 poles (0.8912, 0.3875) (0.9036, 0.3762) (0.9191, 0.3399) (0.9191, 0.3136) knots 0 0 0 1 2 2 2
  spline S21 degree 2 poles (0.9191, 0.3136) (0.9191, 0.2867) (0.9006, 0.241) (0.8838, 0.2235) knots 0 0 0 1 2 2 2
  spline S22 degree 2 poles (0.8838, 0.2235) (0.8663, 0.2054) (0.8167, 0.1866) (0.7853, 0.1866) knots 0 0 0 1 2 2 2
  spline S23 degree 2 poles (0.7853, 0.1866) (0.7551, 0.1866) (0.6961, 0.2012) (0.676, 0.2112) knots 0 0 0 1 2 2 2
  line L22 (0.676, 0.2112) -> (0.676, 0.2679)
  line L23 (0.676, 0.2679) -> (0.6799, 0.2679)
  spline S24 degree 2 poles (0.6799, 0.2679) (0.6968, 0.2556) (0.7538, 0.2329) (0.782, 0.2329) knots 0 0 0 1 2 2 2
  spline S25 degree 2 poles (0.782, 0.2329) (0.7985, 0.2329) (0.8316, 0.2433) (0.8426, 0.2553) knots 0 0 0 1 2 2 2
  spline S26 degree 2 poles (0.8426, 0.2553) (0.8533, 0.2673) (0.8647, 0.2958) (0.8647, 0.3175) knots 0 0 0 1 2 2 2
  spline S27 degree 2 poles (0.8647, 0.3175) (0.8647, 0.3392) (0.852, 0.3674) (0.8407, 0.3756) knots 0 0 0 1 2 2 2
  spline S28 degree 2 poles (0.8407, 0.3756) (0.8293, 0.3837) (0.7985, 0.3898) (0.7804, 0.3898) knots 0 0 0 1 2 2 2
  line L24 (0.7804, 0.3898) -> (0.7577, 0.3898)
  line L25 (0.7577, 0.3898) -> (0.7577, 0.4342)
  line L26 (0.7577, 0.4342) -> (0.7755, 0.4342)
  spline S29 degree 2 poles (0.7755, 0.4342) (0.8115, 0.4342) (0.8569, 0.4686) (0.8569, 0.5013) knots 0 0 0 1 2 2 2
  spline S30 degree 2 poles (0.8569, 0.5013) (0.8569, 0.5166) (0.8452, 0.5383) (0.8358, 0.5448) knots 0 0 0 1 2 2 2
  spline S31 degree 2 poles (0.8358, 0.5448) (0.8258, 0.5516) (0.8011, 0.5571) (0.7872, 0.5571) knots 0 0 0 1 2 2 2
  point P0 (0.5, 0.395)
extrude "Extrusion3" add sketch "Sketch2" along normal blind 0.02 contours L5 L6 L7 L8 L9 L10 L11 | S0 S1 S2 L12 L13 S3 S4 S5 S6 S7 S8 S9 L14 L15 L16 L17 L18 S10 S11 S12 | S13 S14 L19 L20 S15 S16 S17 S18 L21 S19 S20 S21 S22 S23 L22 L23 S24 S25 S26 S27 S28 L24 L25 L26 S29 S30 S31
fillet "Fillet1" radius 0.02 4 edges at (-0.8, 0, 0.225) (-0.8, 0, -0.225) (0.8, 0, 0.225) (0.8, 0, -0.225)
equation "\"d2\" = d1"
properties part number "21-1001" material "Copper"
